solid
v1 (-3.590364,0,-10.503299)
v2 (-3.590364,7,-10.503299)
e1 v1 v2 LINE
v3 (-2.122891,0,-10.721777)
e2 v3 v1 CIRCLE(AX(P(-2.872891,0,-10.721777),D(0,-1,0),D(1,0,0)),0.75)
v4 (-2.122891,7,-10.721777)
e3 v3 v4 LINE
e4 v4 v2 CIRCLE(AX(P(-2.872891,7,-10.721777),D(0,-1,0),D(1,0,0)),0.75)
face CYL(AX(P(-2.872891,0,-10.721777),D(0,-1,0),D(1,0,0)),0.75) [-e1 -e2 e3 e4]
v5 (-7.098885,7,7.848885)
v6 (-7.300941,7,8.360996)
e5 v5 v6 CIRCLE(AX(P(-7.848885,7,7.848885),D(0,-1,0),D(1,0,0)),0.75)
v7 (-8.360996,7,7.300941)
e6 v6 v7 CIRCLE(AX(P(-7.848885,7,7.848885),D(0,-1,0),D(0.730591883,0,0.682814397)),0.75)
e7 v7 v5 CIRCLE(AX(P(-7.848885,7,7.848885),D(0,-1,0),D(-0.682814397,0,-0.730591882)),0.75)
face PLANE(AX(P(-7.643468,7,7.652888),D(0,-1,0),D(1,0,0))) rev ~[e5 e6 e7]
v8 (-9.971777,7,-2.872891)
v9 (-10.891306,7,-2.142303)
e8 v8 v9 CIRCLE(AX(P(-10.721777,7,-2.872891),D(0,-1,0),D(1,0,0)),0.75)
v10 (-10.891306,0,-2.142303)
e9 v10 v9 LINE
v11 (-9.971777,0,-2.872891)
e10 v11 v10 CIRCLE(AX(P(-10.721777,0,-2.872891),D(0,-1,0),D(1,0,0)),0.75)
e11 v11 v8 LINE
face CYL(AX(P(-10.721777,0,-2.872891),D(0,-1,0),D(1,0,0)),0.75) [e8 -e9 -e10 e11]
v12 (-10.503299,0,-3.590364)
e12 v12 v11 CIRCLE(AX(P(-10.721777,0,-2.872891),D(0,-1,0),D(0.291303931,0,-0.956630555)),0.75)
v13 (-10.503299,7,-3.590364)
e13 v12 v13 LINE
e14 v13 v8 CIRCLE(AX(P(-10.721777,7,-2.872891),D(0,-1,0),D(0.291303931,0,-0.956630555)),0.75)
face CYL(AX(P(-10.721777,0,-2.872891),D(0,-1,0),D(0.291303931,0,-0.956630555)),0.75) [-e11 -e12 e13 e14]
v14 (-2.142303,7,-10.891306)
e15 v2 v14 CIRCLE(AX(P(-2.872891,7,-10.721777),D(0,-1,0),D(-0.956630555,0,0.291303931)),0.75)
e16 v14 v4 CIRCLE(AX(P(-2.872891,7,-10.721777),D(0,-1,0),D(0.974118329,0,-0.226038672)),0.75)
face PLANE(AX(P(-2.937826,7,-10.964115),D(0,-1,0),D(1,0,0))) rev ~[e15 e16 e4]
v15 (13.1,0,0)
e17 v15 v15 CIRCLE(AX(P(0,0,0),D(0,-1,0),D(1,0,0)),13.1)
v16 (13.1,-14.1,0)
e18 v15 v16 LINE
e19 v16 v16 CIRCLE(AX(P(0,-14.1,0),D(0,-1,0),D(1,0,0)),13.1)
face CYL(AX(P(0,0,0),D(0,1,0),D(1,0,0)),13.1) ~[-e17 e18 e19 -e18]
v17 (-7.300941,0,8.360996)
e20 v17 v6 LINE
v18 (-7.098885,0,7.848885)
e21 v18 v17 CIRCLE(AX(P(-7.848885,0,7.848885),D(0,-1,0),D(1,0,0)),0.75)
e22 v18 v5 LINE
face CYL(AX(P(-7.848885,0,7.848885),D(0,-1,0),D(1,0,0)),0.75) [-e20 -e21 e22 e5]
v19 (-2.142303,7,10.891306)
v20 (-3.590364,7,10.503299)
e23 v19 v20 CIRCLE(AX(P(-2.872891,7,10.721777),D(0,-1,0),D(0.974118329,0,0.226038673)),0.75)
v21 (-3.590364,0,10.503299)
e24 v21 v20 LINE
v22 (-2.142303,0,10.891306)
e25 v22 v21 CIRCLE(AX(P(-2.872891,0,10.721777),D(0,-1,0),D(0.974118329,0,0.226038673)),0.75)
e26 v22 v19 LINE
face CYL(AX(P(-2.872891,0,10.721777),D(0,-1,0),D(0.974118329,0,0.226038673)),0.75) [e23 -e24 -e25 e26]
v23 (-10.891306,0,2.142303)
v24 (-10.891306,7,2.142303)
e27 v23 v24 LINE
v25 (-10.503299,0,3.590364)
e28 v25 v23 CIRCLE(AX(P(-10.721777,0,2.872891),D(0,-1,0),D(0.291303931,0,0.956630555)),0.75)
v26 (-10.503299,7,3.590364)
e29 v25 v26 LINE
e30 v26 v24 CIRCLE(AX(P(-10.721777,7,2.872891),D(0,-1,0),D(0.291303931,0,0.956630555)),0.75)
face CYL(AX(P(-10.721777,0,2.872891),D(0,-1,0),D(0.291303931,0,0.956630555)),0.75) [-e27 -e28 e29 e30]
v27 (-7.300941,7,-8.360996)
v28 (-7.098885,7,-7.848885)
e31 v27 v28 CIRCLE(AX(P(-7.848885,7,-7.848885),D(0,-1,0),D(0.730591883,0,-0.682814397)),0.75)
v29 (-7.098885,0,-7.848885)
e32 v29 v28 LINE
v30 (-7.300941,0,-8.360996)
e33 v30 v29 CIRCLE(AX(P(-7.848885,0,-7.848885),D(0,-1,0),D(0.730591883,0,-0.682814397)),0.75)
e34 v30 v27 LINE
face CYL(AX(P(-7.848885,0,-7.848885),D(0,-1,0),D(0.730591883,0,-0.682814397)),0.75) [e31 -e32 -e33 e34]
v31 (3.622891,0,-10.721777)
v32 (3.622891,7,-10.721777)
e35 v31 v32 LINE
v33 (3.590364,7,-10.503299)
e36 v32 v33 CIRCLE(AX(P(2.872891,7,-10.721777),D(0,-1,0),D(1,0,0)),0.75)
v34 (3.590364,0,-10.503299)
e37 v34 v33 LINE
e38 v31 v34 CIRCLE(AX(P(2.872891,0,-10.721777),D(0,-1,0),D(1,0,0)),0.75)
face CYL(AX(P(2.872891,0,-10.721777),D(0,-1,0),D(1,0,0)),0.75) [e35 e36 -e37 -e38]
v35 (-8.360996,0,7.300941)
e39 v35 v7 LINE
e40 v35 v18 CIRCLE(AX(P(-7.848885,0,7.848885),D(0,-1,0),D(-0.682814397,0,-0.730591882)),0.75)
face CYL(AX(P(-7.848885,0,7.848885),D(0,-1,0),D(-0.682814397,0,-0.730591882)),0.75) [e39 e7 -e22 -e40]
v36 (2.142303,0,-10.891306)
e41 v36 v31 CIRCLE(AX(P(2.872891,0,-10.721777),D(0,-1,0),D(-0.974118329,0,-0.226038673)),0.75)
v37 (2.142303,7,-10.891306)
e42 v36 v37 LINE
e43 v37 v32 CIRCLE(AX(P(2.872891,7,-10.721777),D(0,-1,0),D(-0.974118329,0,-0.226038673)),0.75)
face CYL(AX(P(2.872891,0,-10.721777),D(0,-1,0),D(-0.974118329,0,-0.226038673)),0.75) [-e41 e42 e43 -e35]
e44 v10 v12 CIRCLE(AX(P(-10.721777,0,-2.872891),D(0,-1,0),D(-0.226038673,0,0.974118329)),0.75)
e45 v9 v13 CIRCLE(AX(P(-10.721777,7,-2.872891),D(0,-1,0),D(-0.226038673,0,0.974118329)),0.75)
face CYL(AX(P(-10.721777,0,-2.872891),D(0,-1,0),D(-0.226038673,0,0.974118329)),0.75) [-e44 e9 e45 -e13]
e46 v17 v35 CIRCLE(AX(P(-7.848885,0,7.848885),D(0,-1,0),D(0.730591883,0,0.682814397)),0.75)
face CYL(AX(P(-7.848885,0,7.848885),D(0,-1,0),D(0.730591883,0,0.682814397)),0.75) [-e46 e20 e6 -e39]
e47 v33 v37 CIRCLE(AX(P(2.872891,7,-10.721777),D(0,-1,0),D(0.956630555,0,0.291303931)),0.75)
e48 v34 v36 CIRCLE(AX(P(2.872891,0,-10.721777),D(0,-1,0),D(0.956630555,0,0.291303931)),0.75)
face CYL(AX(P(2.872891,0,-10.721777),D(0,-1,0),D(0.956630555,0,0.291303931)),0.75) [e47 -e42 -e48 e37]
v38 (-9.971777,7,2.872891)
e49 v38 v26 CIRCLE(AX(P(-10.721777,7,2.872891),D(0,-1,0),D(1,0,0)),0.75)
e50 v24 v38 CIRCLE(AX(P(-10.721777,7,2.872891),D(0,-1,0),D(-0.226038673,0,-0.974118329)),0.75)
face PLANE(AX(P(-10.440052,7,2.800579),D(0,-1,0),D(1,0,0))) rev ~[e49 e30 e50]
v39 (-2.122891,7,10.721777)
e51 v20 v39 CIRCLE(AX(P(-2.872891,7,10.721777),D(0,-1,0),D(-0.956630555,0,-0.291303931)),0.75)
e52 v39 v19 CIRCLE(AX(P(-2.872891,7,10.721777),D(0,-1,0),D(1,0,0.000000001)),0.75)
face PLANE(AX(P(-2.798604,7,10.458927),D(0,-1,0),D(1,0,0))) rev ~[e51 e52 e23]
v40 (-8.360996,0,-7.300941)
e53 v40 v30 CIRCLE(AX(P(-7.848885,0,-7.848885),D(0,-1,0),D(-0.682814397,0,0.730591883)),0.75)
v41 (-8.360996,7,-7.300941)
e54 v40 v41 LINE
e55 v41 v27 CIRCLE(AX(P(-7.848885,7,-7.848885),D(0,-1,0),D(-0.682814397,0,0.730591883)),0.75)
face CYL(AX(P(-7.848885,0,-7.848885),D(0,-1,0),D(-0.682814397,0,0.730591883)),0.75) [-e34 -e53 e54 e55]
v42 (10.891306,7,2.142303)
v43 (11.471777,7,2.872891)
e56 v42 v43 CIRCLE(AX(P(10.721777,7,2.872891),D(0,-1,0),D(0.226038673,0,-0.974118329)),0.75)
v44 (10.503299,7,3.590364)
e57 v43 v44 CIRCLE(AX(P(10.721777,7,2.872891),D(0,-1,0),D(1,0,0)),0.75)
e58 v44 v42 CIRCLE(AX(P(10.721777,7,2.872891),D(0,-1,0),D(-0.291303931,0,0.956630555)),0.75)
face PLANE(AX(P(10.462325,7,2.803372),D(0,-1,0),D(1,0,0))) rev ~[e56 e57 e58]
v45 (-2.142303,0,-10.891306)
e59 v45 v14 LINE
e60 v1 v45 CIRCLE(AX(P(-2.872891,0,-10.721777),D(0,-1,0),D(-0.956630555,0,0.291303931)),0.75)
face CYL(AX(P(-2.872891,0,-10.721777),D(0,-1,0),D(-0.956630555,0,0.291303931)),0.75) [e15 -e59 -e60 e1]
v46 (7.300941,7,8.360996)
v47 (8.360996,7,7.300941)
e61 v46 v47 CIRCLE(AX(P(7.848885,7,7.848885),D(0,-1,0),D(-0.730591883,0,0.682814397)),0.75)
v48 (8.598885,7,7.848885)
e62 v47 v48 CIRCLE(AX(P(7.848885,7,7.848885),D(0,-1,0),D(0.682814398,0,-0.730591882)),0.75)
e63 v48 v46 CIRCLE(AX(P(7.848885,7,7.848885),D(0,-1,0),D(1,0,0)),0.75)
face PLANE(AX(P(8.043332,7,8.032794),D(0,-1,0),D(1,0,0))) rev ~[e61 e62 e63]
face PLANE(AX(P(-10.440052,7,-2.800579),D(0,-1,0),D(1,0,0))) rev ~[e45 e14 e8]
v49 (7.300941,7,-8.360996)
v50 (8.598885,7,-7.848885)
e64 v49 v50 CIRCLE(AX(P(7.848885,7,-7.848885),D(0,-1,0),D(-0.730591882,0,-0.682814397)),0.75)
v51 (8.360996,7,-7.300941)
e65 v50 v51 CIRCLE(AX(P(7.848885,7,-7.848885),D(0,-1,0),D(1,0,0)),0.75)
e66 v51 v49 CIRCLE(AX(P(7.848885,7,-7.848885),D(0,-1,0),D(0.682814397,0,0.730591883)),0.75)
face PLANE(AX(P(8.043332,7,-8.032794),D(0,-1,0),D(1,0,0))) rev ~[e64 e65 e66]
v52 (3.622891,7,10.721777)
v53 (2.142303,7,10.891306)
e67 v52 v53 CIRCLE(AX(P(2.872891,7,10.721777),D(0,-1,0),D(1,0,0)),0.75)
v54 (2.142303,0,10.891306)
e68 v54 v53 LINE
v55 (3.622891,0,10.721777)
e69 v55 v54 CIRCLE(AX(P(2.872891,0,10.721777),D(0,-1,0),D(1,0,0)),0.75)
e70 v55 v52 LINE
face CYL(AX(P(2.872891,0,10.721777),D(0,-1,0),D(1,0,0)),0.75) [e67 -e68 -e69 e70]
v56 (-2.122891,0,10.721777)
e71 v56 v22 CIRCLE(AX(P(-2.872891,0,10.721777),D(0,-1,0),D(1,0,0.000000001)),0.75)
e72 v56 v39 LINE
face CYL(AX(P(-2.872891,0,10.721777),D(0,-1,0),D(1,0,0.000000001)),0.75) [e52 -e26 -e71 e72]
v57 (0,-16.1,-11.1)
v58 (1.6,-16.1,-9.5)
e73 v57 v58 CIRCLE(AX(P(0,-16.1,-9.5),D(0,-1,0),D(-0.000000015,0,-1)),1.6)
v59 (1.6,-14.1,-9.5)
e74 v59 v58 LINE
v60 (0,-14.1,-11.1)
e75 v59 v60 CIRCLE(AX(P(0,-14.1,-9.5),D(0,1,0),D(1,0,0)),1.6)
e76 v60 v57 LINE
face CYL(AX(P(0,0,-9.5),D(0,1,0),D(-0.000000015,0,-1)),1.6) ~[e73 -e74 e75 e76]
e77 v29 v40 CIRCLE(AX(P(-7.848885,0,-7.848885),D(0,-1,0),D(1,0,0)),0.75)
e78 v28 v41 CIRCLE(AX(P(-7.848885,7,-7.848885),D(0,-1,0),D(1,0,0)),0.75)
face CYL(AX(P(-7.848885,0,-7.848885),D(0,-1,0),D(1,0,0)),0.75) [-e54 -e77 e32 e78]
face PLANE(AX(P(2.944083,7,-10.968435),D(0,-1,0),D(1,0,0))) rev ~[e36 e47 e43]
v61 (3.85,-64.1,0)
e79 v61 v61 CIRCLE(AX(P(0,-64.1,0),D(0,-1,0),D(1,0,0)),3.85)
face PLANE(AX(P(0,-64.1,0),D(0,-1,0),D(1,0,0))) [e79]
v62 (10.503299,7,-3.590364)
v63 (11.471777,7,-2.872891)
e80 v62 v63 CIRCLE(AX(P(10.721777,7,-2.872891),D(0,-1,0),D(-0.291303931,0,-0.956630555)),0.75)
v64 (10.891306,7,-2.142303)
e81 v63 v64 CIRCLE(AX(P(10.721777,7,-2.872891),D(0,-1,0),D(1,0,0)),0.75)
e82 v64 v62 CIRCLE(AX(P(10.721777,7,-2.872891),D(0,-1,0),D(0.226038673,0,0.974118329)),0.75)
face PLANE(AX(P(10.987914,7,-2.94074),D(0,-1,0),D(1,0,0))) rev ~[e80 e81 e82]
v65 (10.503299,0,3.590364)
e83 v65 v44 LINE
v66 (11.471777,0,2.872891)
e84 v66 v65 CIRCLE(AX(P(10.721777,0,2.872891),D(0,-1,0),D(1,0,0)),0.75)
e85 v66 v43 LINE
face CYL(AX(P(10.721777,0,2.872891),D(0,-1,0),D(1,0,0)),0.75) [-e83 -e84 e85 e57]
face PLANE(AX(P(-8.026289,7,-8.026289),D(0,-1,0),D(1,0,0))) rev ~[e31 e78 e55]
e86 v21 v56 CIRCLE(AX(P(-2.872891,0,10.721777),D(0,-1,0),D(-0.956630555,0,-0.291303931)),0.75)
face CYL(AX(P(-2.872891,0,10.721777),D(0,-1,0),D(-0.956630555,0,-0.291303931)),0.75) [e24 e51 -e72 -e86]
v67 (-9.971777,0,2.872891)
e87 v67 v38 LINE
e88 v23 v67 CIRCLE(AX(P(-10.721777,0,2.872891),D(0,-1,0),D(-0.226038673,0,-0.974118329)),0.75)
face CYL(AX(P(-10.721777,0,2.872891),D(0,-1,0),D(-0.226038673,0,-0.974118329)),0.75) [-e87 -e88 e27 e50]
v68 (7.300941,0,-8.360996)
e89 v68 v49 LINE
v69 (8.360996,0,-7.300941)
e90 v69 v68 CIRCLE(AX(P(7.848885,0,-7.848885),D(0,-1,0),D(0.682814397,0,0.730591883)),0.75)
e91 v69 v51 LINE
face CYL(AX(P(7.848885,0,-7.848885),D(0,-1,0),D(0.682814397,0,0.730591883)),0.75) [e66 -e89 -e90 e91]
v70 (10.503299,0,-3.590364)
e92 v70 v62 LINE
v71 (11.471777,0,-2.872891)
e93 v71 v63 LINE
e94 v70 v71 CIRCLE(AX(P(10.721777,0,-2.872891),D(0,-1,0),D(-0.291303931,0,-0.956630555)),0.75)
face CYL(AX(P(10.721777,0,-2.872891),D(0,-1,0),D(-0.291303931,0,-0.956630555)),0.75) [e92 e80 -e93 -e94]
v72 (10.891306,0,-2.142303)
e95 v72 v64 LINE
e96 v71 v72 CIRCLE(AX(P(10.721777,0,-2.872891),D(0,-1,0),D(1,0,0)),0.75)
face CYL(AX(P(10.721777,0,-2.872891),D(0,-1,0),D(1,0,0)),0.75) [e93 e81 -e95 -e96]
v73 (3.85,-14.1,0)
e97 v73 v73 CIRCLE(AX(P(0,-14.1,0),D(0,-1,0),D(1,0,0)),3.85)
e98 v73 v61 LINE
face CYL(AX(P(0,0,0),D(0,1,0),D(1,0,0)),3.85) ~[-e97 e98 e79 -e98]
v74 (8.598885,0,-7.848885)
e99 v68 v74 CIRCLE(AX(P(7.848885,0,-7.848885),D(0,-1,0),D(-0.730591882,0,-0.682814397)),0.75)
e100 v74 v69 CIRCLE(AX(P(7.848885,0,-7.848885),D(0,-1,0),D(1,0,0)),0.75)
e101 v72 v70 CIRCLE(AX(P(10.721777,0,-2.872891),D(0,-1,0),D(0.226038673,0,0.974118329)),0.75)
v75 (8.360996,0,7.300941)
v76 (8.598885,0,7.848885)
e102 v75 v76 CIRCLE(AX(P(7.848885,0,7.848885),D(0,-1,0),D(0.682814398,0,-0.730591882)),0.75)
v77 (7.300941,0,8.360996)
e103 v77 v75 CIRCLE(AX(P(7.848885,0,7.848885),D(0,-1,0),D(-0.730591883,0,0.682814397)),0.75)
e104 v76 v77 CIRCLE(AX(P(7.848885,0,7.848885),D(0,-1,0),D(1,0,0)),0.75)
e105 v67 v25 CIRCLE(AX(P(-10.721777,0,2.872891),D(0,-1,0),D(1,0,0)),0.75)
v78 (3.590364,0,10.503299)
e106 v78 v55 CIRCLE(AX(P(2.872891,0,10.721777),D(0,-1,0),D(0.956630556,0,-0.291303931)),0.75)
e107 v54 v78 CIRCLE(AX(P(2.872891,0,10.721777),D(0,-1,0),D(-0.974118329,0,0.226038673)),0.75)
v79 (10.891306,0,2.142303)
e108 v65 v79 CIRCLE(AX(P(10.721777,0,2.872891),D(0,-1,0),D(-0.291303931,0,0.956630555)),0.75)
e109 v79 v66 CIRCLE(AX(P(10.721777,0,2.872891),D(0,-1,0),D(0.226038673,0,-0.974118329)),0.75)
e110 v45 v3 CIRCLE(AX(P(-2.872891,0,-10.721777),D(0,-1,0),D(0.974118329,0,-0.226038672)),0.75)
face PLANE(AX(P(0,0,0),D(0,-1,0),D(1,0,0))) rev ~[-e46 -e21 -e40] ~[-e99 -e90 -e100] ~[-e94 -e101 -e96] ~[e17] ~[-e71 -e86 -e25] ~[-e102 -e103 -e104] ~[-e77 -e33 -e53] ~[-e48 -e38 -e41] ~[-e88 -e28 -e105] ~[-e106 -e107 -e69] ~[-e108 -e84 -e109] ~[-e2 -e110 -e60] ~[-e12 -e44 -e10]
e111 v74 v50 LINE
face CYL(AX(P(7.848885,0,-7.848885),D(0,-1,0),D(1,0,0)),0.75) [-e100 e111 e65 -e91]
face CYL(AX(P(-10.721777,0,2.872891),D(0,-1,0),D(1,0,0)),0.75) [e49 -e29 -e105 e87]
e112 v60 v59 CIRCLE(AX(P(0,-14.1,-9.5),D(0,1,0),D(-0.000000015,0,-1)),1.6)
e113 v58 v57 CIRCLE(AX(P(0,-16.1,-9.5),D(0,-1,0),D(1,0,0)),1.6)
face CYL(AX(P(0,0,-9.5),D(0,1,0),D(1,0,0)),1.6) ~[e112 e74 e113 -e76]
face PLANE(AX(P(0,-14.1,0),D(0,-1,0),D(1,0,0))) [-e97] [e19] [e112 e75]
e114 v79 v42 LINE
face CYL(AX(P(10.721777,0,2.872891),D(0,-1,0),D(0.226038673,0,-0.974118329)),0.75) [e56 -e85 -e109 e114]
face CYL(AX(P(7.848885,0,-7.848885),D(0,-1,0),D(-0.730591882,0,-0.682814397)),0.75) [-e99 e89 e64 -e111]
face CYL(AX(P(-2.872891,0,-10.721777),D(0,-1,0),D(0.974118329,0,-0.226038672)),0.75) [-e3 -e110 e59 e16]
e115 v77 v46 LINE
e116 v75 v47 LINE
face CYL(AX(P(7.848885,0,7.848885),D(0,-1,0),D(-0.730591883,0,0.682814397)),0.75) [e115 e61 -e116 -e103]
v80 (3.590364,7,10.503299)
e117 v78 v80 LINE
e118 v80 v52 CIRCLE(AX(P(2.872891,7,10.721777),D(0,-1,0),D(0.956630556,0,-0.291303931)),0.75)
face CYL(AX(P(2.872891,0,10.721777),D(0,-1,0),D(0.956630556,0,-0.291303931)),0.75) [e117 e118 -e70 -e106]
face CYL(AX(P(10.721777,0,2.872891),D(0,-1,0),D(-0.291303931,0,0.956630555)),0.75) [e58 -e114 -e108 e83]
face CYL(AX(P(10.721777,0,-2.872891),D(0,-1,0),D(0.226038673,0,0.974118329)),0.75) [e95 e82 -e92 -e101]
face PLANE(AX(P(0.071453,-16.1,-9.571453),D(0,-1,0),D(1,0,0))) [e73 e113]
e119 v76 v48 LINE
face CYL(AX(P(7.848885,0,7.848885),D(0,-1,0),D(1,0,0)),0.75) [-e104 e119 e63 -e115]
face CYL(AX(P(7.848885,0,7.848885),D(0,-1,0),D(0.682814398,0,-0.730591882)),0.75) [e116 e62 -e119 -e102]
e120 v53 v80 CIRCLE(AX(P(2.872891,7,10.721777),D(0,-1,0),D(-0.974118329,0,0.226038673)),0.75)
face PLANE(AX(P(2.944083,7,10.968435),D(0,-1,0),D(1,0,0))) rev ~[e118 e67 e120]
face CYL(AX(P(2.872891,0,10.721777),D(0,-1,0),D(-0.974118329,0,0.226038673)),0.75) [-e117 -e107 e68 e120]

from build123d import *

# Parameters (mm, degrees)
F0_R     = 13.1
F0_R_2   = 3.85
F1_DEPTH = 14.1
F2_DEPTH = 16.1
F3_DEPTH = 64.1
F4_DEPTH = 7


with BuildPart() as f1:
    # F0 (on Front) → F1 (new body)
    with BuildSketch(Plane.XZ):
        Circle(F0_R)
        with BuildLine():
            ThreePointArc((2.1423026541, 10.8913056765), (2.9582097459, 11.4669080562), (3.6228914006, 10.7217766718))
            ThreePointArc((3.6228914006, 10.7217766718), (3.6147150614, 10.6113336716), (3.5903643172, 10.5032987232))
            ThreePointArc((3.5903643172, 10.5032987232), (5.55, 9.612881982), (7.3009413593, 8.3609960692))
            ThreePointArc((7.3009413593, 8.3609960692), (8.1241506577, 8.5465449066), (8.5988852712, 7.8488852712))
            ThreePointArc((8.5988852712, 7.8488852712), (8.5368471518, 7.5502074334), (8.3609960692, 7.3009413593))
            ThreePointArc((8.3609960692, 7.3009413593), (9.612881982, 5.55), (10.5032987232, 3.5903643172))
            ThreePointArc((10.5032987232, 3.5903643172), (11.1682302184, 3.475534936), (11.4717766718, 2.8728914006))
            ThreePointArc((11.4717766718, 2.8728914006), (11.3089933071, 2.4063331264), (10.8913056765, 2.1423026541))
            ThreePointArc((10.8913056765, 2.1423026541), (11.047703223, 1.0762218617), (11.1, 0))
            ThreePointArc((11.1, 0), (11.047703223, -1.0762218617), (10.8913056765, -2.1423026541))
            ThreePointArc((10.8913056765, -2.1423026541), (11.3089933071, -2.4063331264), (11.4717766718, -2.8728914006))
            ThreePointArc((11.4717766718, -2.8728914006), (11.1682302184, -3.475534936), (10.5032987232, -3.5903643172))
            ThreePointArc((10.5032987232, -3.5903643172), (9.612881982, -5.55), (8.3609960692, -7.3009413593))
            ThreePointArc((8.3609960692, -7.3009413593), (8.5368471518, -7.5502074334), (8.5988852712, -7.8488852712))
            ThreePointArc((8.5988852712, -7.8488852712), (8.1241506577, -8.5465449066), (7.3009413593, -8.3609960692))
            ThreePointArc((7.3009413593, -8.3609960692), (5.55, -9.612881982), (3.5903643172, -10.5032987232))
            ThreePointArc((3.5903643172, -10.5032987232), (3.6147150614, -10.6113336716), (3.6228914006, -10.7217766718))
            ThreePointArc((3.6228914006, -10.7217766718), (2.9582097459, -11.4669080562), (2.1423026541, -10.8913056765))
            ThreePointArc((2.1423026541, -10.8913056765), (1.0762218494, -11.0477032242), (-2.47e-08, -11.1))
            ThreePointArc((-2.47e-08, -11.1), (-1.076221874, -11.0477032218), (-2.1423026541, -10.8913056765))
            ThreePointArc((-2.1423026541, -10.8913056765), (-3.0670056845, -11.4462210415), (-3.5903643172, -10.5032987232))
            ThreePointArc((-3.5903643172, -10.5032987232), (-5.55, -9.612881982), (-7.3009413593, -8.3609960692))
            ThreePointArc((-7.3009413593, -8.3609960692), (-8.3792153571, -8.3792153571), (-8.3609960692, -7.3009413593))
            ThreePointArc((-8.3609960692, -7.3009413593), (-9.612881982, -5.55), (-10.5032987232, -3.5903643172))
            ThreePointArc((-10.5032987232, -3.5903643172), (-11.4462210415, -3.0670056845), (-10.8913056765, -2.1423026541))
            ThreePointArc((-10.8913056765, -2.1423026541), (-11.1, 0), (-10.8913056765, 2.1423026541))
            ThreePointArc((-10.8913056765, 2.1423026541), (-11.4462210415, 3.0670056845), (-10.5032987232, 3.5903643172))
            ThreePointArc((-10.5032987232, 3.5903643172), (-9.612881982, 5.55), (-8.3609960692, 7.3009413593))
            ThreePointArc((-8.3609960692, 7.3009413593), (-8.3792153571, 8.3792153571), (-7.3009413593, 8.3609960692))
            ThreePointArc((-7.3009413593, 8.3609960692), (-5.55, 9.612881982), (-3.5903643172, 10.5032987232))
            ThreePointArc((-3.5903643172, 10.5032987232), (-3.0670056845, 11.4462210415), (-2.1423026541, 10.8913056765))
            ThreePointArc((-2.1423026541, 10.8913056765), (0, 11.1), (2.1423026541, 10.8913056765))
        make_face(mode=Mode.SUBTRACT)
        with BuildLine():
            ThreePointArc((3.5903643172, 10.5032987232), (2.8728914006, 10.7217766718), (2.1423026541, 10.8913056765))
            ThreePointArc((2.1423026541, 10.8913056765), (2.6787771168, 9.9973323021), (3.5903643172, 10.5032987232))
        make_face()
        with BuildLine():
            ThreePointArc((-3.5903643172, 10.5032987232), (-2.8728914006, 10.7217766718), (-2.1423026541, 10.8913056765))
            ThreePointArc((-2.1423026541, 10.8913056765), (-3.0670056845, 11.4462210415), (-3.5903643172, 10.5032987232))
        make_face()
        with BuildLine():
            ThreePointArc((8.3609960692, 7.3009413593), (7.8488852712, 7.8488852712), (7.3009413593, 8.3609960692))
            ThreePointArc((7.3009413593, 8.3609960692), (7.3185551853, 7.3185551853), (8.3609960692, 7.3009413593))
        make_face()
        with BuildLine():
            ThreePointArc((11.4717766718, 2.8728914006), (11.1682302184, 3.475534936), (10.5032987232, 3.5903643172))
            ThreePointArc((10.5032987232, 3.5903643172), (10.7217766718, 2.8728914006), (10.8913056765, 2.1423026541))
            ThreePointArc((10.8913056765, 2.1423026541), (11.3089933071, 2.4063331264), (11.4717766718, 2.8728914006))
        make_face()
        with BuildLine():
            ThreePointArc((10.5032987232, -3.5903643172), (10.7217766718, -2.8728914006), (10.8913056765, -2.1423026541))
            ThreePointArc((10.8913056765, -2.1423026541), (9.9973323021, -2.6787771168), (10.5032987232, -3.5903643172))
        make_face()
        with BuildLine():
            ThreePointArc((7.3009413593, -8.3609960692), (7.8488852712, -7.8488852712), (8.3609960692, -7.3009413593))
            ThreePointArc((8.3609960692, -7.3009413593), (7.3185551853, -7.3185551853), (7.3009413593, -8.3609960692))
        make_face()
        with BuildLine():
            ThreePointArc((2.1423026541, -10.8913056765), (2.8728914006, -10.7217766718), (3.5903643172, -10.5032987232))
            ThreePointArc((3.5903643172, -10.5032987232), (2.6787771168, -9.9973323021), (2.1423026541, -10.8913056765))
        make_face()
        with BuildLine():
            ThreePointArc((-8.3609960692, 7.3009413593), (-7.8488852712, 7.8488852712), (-7.3009413593, 8.3609960692))
            ThreePointArc((-7.3009413593, 8.3609960692), (-8.3792153571, 8.3792153571), (-8.3609960692, 7.3009413593))
        make_face()
        with BuildLine():
            ThreePointArc((-10.8913056765, 2.1423026541), (-10.7217766718, 2.8728914006), (-10.5032987232, 3.5903643172))
            ThreePointArc((-10.5032987232, 3.5903643172), (-11.4462210415, 3.0670056845), (-10.8913056765, 2.1423026541))
        make_face()
        with BuildLine():
            ThreePointArc((-10.5032987232, -3.5903643172), (-10.7217766718, -2.8728914006), (-10.8913056765, -2.1423026541))
            ThreePointArc((-10.8913056765, -2.1423026541), (-11.4462210415, -3.0670056845), (-10.5032987232, -3.5903643172))
        make_face()
        with BuildLine():
            ThreePointArc((-7.3009413593, -8.3609960692), (-7.8488852712, -7.8488852712), (-8.3609960692, -7.3009413593))
            ThreePointArc((-8.3609960692, -7.3009413593), (-8.3792153571, -8.3792153571), (-7.3009413593, -8.3609960692))
        make_face()
        with BuildLine():
            ThreePointArc((-2.1423026541, -10.8913056765), (-2.8728914006, -10.7217766718), (-3.5903643172, -10.5032987232))
            ThreePointArc((-3.5903643172, -10.5032987232), (-3.0670056845, -11.4462210415), (-2.1423026541, -10.8913056765))
        make_face()
        with BuildLine():
            ThreePointArc((3.5903643172, 10.5032987232), (2.6787771168, 9.9973323021), (2.1423026541, 10.8913056765))
            ThreePointArc((2.1423026541, 10.8913056765), (0, 11.1), (-2.1423026541, 10.8913056765))
            ThreePointArc((-2.1423026541, 10.8913056765), (-2.1277600163, 10.8070950171), (-2.1228914006, 10.7217766718))
            ThreePointArc((-2.1228914006, 10.7217766718), (-2.7624484004, 9.979953011), (-3.5903643172, 10.5032987232))
            ThreePointArc((-3.5903643172, 10.5032987232), (-5.55, 9.612881982), (-7.3009413593, 8.3609960692))
            ThreePointArc((-7.3009413593, 8.3609960692), (-7.1512256357, 8.1241506577), (-7.0988852712, 7.8488852712))
            ThreePointArc((-7.0988852712, 7.8488852712), (-7.5502074334, 7.1609233905), (-8.3609960692, 7.3009413593))
            ThreePointArc((-8.3609960692, 7.3009413593), (-9.612881982, 5.55), (-10.5032987232, 3.5903643172))
            ThreePointArc((-10.5032987232, 3.5903643172), (-10.1191331364, 3.3193449473), (-9.9717766718, 2.8728914006))
            ThreePointArc((-9.9717766718, 2.8728914006), (-10.2552183976, 2.2856747654), (-10.8913056765, 2.1423026541))
            ThreePointArc((-10.8913056765, 2.1423026541), (-11.1, 0), (-10.8913056765, -2.1423026541))
            ThreePointArc((-10.8913056765, -2.1423026541), (-10.2552183976, -2.2856747654), (-9.9717766718, -2.8728914006))
            ThreePointArc((-9.9717766718, -2.8728914006), (-10.1191331364, -3.3193449473), (-10.5032987232, -3.5903643172))
            ThreePointArc((-10.5032987232, -3.5903643172), (-9.612881982, -5.55), (-8.3609960692, -7.3009413593))
            ThreePointArc((-8.3609960692, -7.3009413593), (-7.5502074334, -7.1609233905), (-7.0988852712, -7.8488852712))
            ThreePointArc((-7.0988852712, -7.8488852712), (-7.1512256357, -8.1241506577), (-7.3009413593, -8.3609960692))
            ThreePointArc((-7.3009413593, -8.3609960692), (-5.55, -9.612881982), (-3.5903643172, -10.5032987232))
            ThreePointArc((-3.5903643172, -10.5032987232), (-2.7624484004, -9.979953011), (-2.1228914006, -10.7217766718))
            ThreePointArc((-2.1228914006, -10.7217766718), (-2.1277600163, -10.8070950171), (-2.1423026541, -10.8913056765))
            ThreePointArc((-2.1423026541, -10.8913056765), (-1.076221874, -11.0477032218), (-2.47e-08, -11.1))
            ThreePointArc((-2.47e-08, -11.1), (1.0762218494, -11.0477032242), (2.1423026541, -10.8913056765))
            ThreePointArc((2.1423026541, -10.8913056765), (2.6787771168, -9.9973323021), (3.5903643172, -10.5032987232))
            ThreePointArc((3.5903643172, -10.5032987232), (5.55, -9.612881982), (7.3009413593, -8.3609960692))
            ThreePointArc((7.3009413593, -8.3609960692), (7.3185551853, -7.3185551853), (8.3609960692, -7.3009413593))
            ThreePointArc((8.3609960692, -7.3009413593), (9.612881982, -5.55), (10.5032987232, -3.5903643172))
            ThreePointArc((10.5032987232, -3.5903643172), (9.9973323021, -2.6787771168), (10.8913056765, -2.1423026541))
            ThreePointArc((10.8913056765, -2.1423026541), (11.047703223, -1.0762218617), (11.1, 0))
            ThreePointArc((11.1, 0), (11.047703223, 1.0762218617), (10.8913056765, 2.1423026541))
            ThreePointArc((10.8913056765, 2.1423026541), (9.9973323021, 2.6787771168), (10.5032987232, 3.5903643172))
            ThreePointArc((10.5032987232, 3.5903643172), (9.612881982, 5.55), (8.3609960692, 7.3009413593))
            ThreePointArc((8.3609960692, 7.3009413593), (7.3185551853, 7.3185551853), (7.3009413593, 8.3609960692))
            ThreePointArc((7.3009413593, 8.3609960692), (5.55, 9.612881982), (3.5903643172, 10.5032987232))
        make_face()
        with BuildLine():
            ThreePointArc((1.6, -9.5), (1.1313708412, -10.6313708586), (-2.47e-08, -11.1))
            ThreePointArc((-2.47e-08, -11.1), (-1.1313708412, -8.3686291414), (1.6, -9.5))
        make_face(mode=Mode.SUBTRACT)
        Circle(F0_R_2, mode=Mode.SUBTRACT)
        with BuildLine():
            ThreePointArc((-7.0988852712, 7.8488852712), (-7.1512256357, 8.1241506577), (-7.3009413593, 8.3609960692))
            ThreePointArc((-7.3009413593, 8.3609960692), (-7.8488852712, 7.8488852712), (-8.3609960692, 7.3009413593))
            ThreePointArc((-8.3609960692, 7.3009413593), (-7.5502074334, 7.1609233905), (-7.0988852712, 7.8488852712))
        make_face()
        with BuildLine():
            ThreePointArc((-2.1228914006, 10.7217766718), (-2.1277600163, 10.8070950171), (-2.1423026541, 10.8913056765))
            ThreePointArc((-2.1423026541, 10.8913056765), (-2.8728914006, 10.7217766718), (-3.5903643172, 10.5032987232))
            ThreePointArc((-3.5903643172, 10.5032987232), (-2.7624484004, 9.979953011), (-2.1228914006, 10.7217766718))
        make_face()
        with BuildLine():
            ThreePointArc((3.5903643172, 10.5032987232), (3.6147150614, 10.6113336716), (3.6228914006, 10.7217766718))
            ThreePointArc((3.6228914006, 10.7217766718), (2.9582097459, 11.4669080562), (2.1423026541, 10.8913056765))
            ThreePointArc((2.1423026541, 10.8913056765), (2.8728914006, 10.7217766718), (3.5903643172, 10.5032987232))
        make_face()
        with BuildLine():
            ThreePointArc((8.5988852712, 7.8488852712), (8.1241506577, 8.5465449066), (7.3009413593, 8.3609960692))
            ThreePointArc((7.3009413593, 8.3609960692), (7.8488852712, 7.8488852712), (8.3609960692, 7.3009413593))
            ThreePointArc((8.3609960692, 7.3009413593), (8.5368471518, 7.5502074334), (8.5988852712, 7.8488852712))
        make_face()
        with BuildLine():
            ThreePointArc((10.8913056765, 2.1423026541), (10.7217766718, 2.8728914006), (10.5032987232, 3.5903643172))
            ThreePointArc((10.5032987232, 3.5903643172), (9.9973323021, 2.6787771168), (10.8913056765, 2.1423026541))
        make_face()
        with BuildLine():
            ThreePointArc((11.4717766718, -2.8728914006), (11.3089933071, -2.4063331264), (10.8913056765, -2.1423026541))
            ThreePointArc((10.8913056765, -2.1423026541), (10.7217766718, -2.8728914006), (10.5032987232, -3.5903643172))
            ThreePointArc((10.5032987232, -3.5903643172), (11.1682302184, -3.475534936), (11.4717766718, -2.8728914006))
        make_face()
        with BuildLine():
            ThreePointArc((8.5988852712, -7.8488852712), (8.5368471518, -7.5502074334), (8.3609960692, -7.3009413593))
            ThreePointArc((8.3609960692, -7.3009413593), (7.8488852712, -7.8488852712), (7.3009413593, -8.3609960692))
            ThreePointArc((7.3009413593, -8.3609960692), (8.1241506577, -8.5465449066), (8.5988852712, -7.8488852712))
        make_face()
        with BuildLine():
            ThreePointArc((3.6228914006, -10.7217766718), (3.6147150614, -10.6113336716), (3.5903643172, -10.5032987232))
            ThreePointArc((3.5903643172, -10.5032987232), (2.8728914006, -10.7217766718), (2.1423026541, -10.8913056765))
            ThreePointArc((2.1423026541, -10.8913056765), (2.9582097459, -11.4669080562), (3.6228914006, -10.7217766718))
        make_face()
        with BuildLine():
            ThreePointArc((-2.1228914006, -10.7217766718), (-2.7624484004, -9.979953011), (-3.5903643172, -10.5032987232))
            ThreePointArc((-3.5903643172, -10.5032987232), (-2.8728914006, -10.7217766718), (-2.1423026541, -10.8913056765))
            ThreePointArc((-2.1423026541, -10.8913056765), (-2.1277600163, -10.8070950171), (-2.1228914006, -10.7217766718))
        make_face()
        with BuildLine():
            ThreePointArc((-7.0988852712, -7.8488852712), (-7.5502074334, -7.1609233905), (-8.3609960692, -7.3009413593))
            ThreePointArc((-8.3609960692, -7.3009413593), (-7.8488852712, -7.8488852712), (-7.3009413593, -8.3609960692))
            ThreePointArc((-7.3009413593, -8.3609960692), (-7.1512256357, -8.1241506577), (-7.0988852712, -7.8488852712))
        make_face()
        with BuildLine():
            ThreePointArc((-9.9717766718, -2.8728914006), (-10.2552183976, -2.2856747654), (-10.8913056765, -2.1423026541))
            ThreePointArc((-10.8913056765, -2.1423026541), (-10.7217766718, -2.8728914006), (-10.5032987232, -3.5903643172))
            ThreePointArc((-10.5032987232, -3.5903643172), (-10.1191331364, -3.3193449473), (-9.9717766718, -2.8728914006))
        make_face()
        with BuildLine():
            ThreePointArc((-9.9717766718, 2.8728914006), (-10.1191331364, 3.3193449473), (-10.5032987232, 3.5903643172))
            ThreePointArc((-10.5032987232, 3.5903643172), (-10.7217766718, 2.8728914006), (-10.8913056765, 2.1423026541))
            ThreePointArc((-10.8913056765, 2.1423026541), (-10.2552183976, 2.2856747654), (-9.9717766718, 2.8728914006))
        make_face()
    extrude(amount=F1_DEPTH)

    # F0 (on Front) → F2 (join, through all)
    with BuildSketch(Plane.XZ):
        with BuildLine():
            ThreePointArc((1.6, -9.5), (-1.1313708412, -8.3686291414), (-2.47e-08, -11.1))
            ThreePointArc((-2.47e-08, -11.1), (1.1313708412, -10.6313708586), (1.6, -9.5))
        make_face()
    extrude(amount=F2_DEPTH)

    # F0 (on Front) → F3 (join, through all)
    with BuildSketch(Plane.XZ):
        Circle(F0_R_2)
    extrude(amount=F3_DEPTH)

    # F0 (on Front) → F4 (join)
    with BuildSketch(Plane.XZ):
        with BuildLine():
            ThreePointArc((3.6228914006, -10.7217766718), (3.6147150614, -10.6113336716), (3.5903643172, -10.5032987232))
            ThreePointArc((3.5903643172, -10.5032987232), (2.8728914006, -10.7217766718), (2.1423026541, -10.8913056765))
            ThreePointArc((2.1423026541, -10.8913056765), (2.9582097459, -11.4669080562), (3.6228914006, -10.7217766718))
        make_face()
        with BuildLine():
            ThreePointArc((2.1423026541, -10.8913056765), (2.8728914006, -10.7217766718), (3.5903643172, -10.5032987232))
            ThreePointArc((3.5903643172, -10.5032987232), (2.6787771168, -9.9973323021), (2.1423026541, -10.8913056765))
        make_face()
        with BuildLine():
            ThreePointArc((8.5988852712, -7.8488852712), (8.5368471518, -7.5502074334), (8.3609960692, -7.3009413593))
            ThreePointArc((8.3609960692, -7.3009413593), (7.8488852712, -7.8488852712), (7.3009413593, -8.3609960692))
            ThreePointArc((7.3009413593, -8.3609960692), (8.1241506577, -8.5465449066), (8.5988852712, -7.8488852712))
        make_face()
        with BuildLine():
            ThreePointArc((7.3009413593, -8.3609960692), (7.8488852712, -7.8488852712), (8.3609960692, -7.3009413593))
            ThreePointArc((8.3609960692, -7.3009413593), (7.3185551853, -7.3185551853), (7.3009413593, -8.3609960692))
        make_face()
        with BuildLine():
            ThreePointArc((11.4717766718, -2.8728914006), (11.3089933071, -2.4063331264), (10.8913056765, -2.1423026541))
            ThreePointArc((10.8913056765, -2.1423026541), (10.7217766718, -2.8728914006), (10.5032987232, -3.5903643172))
            ThreePointArc((10.5032987232, -3.5903643172), (11.1682302184, -3.475534936), (11.4717766718, -2.8728914006))
        make_face()
        with BuildLine():
            ThreePointArc((10.5032987232, -3.5903643172), (10.7217766718, -2.8728914006), (10.8913056765, -2.1423026541))
            ThreePointArc((10.8913056765, -2.1423026541), (9.9973323021, -2.6787771168), (10.5032987232, -3.5903643172))
        make_face()
        with BuildLine():
            ThreePointArc((-2.1423026541, -10.8913056765), (-2.8728914006, -10.7217766718), (-3.5903643172, -10.5032987232))
            ThreePointArc((-3.5903643172, -10.5032987232), (-3.0670056845, -11.4462210415), (-2.1423026541, -10.8913056765))
        make_face()
        with BuildLine():
            ThreePointArc((-2.1228914006, -10.7217766718), (-2.7624484004, -9.979953011), (-3.5903643172, -10.5032987232))
            ThreePointArc((-3.5903643172, -10.5032987232), (-2.8728914006, -10.7217766718), (-2.1423026541, -10.8913056765))
            ThreePointArc((-2.1423026541, -10.8913056765), (-2.1277600163, -10.8070950171), (-2.1228914006, -10.7217766718))
        make_face()
        with BuildLine():
            ThreePointArc((-7.3009413593, -8.3609960692), (-7.8488852712, -7.8488852712), (-8.3609960692, -7.3009413593))
            ThreePointArc((-8.3609960692, -7.3009413593), (-8.3792153571, -8.3792153571), (-7.3009413593, -8.3609960692))
        make_face()
        with BuildLine():
            ThreePointArc((-7.0988852712, -7.8488852712), (-7.5502074334, -7.1609233905), (-8.3609960692, -7.3009413593))
            ThreePointArc((-8.3609960692, -7.3009413593), (-7.8488852712, -7.8488852712), (-7.3009413593, -8.3609960692))
            ThreePointArc((-7.3009413593, -8.3609960692), (-7.1512256357, -8.1241506577), (-7.0988852712, -7.8488852712))
        make_face()
        with BuildLine():
            ThreePointArc((-9.9717766718, -2.8728914006), (-10.2552183976, -2.2856747654), (-10.8913056765, -2.1423026541))
            ThreePointArc((-10.8913056765, -2.1423026541), (-10.7217766718, -2.8728914006), (-10.5032987232, -3.5903643172))
            ThreePointArc((-10.5032987232, -3.5903643172), (-10.1191331364, -3.3193449473), (-9.9717766718, -2.8728914006))
        make_face()
        with BuildLine():
            ThreePointArc((-10.5032987232, -3.5903643172), (-10.7217766718, -2.8728914006), (-10.8913056765, -2.1423026541))
            ThreePointArc((-10.8913056765, -2.1423026541), (-11.4462210415, -3.0670056845), (-10.5032987232, -3.5903643172))
        make_face()
        with BuildLine():
            ThreePointArc((-9.9717766718, 2.8728914006), (-10.1191331364, 3.3193449473), (-10.5032987232, 3.5903643172))
            ThreePointArc((-10.5032987232, 3.5903643172), (-10.7217766718, 2.8728914006), (-10.8913056765, 2.1423026541))
            ThreePointArc((-10.8913056765, 2.1423026541), (-10.2552183976, 2.2856747654), (-9.9717766718, 2.8728914006))
        make_face()
        with BuildLine():
            ThreePointArc((-10.8913056765, 2.1423026541), (-10.7217766718, 2.8728914006), (-10.5032987232, 3.5903643172))
            ThreePointArc((-10.5032987232, 3.5903643172), (-11.4462210415, 3.0670056845), (-10.8913056765, 2.1423026541))
        make_face()
        with BuildLine():
            ThreePointArc((-7.0988852712, 7.8488852712), (-7.1512256357, 8.1241506577), (-7.3009413593, 8.3609960692))
            ThreePointArc((-7.3009413593, 8.3609960692), (-7.8488852712, 7.8488852712), (-8.3609960692, 7.3009413593))
            ThreePointArc((-8.3609960692, 7.3009413593), (-7.5502074334, 7.1609233905), (-7.0988852712, 7.8488852712))
        make_face()
        with BuildLine():
            ThreePointArc((-8.3609960692, 7.3009413593), (-7.8488852712, 7.8488852712), (-7.3009413593, 8.3609960692))
            ThreePointArc((-7.3009413593, 8.3609960692), (-8.3792153571, 8.3792153571), (-8.3609960692, 7.3009413593))
        make_face()
        with BuildLine():
            ThreePointArc((3.5903643172, 10.5032987232), (3.6147150614, 10.6113336716), (3.6228914006, 10.7217766718))
            ThreePointArc((3.6228914006, 10.7217766718), (2.9582097459, 11.4669080562), (2.1423026541, 10.8913056765))
            ThreePointArc((2.1423026541, 10.8913056765), (2.8728914006, 10.7217766718), (3.5903643172, 10.5032987232))
        make_face()
        with BuildLine():
            ThreePointArc((3.5903643172, 10.5032987232), (2.8728914006, 10.7217766718), (2.1423026541, 10.8913056765))
            ThreePointArc((2.1423026541, 10.8913056765), (2.6787771168, 9.9973323021), (3.5903643172, 10.5032987232))
        make_face()
        with BuildLine():
            ThreePointArc((10.8913056765, 2.1423026541), (10.7217766718, 2.8728914006), (10.5032987232, 3.5903643172))
            ThreePointArc((10.5032987232, 3.5903643172), (9.9973323021, 2.6787771168), (10.8913056765, 2.1423026541))
        make_face()
        with BuildLine():
            ThreePointArc((11.4717766718, 2.8728914006), (11.1682302184, 3.475534936), (10.5032987232, 3.5903643172))
            ThreePointArc((10.5032987232, 3.5903643172), (10.7217766718, 2.8728914006), (10.8913056765, 2.1423026541))
            ThreePointArc((10.8913056765, 2.1423026541), (11.3089933071, 2.4063331264), (11.4717766718, 2.8728914006))
        make_face()
        with BuildLine():
            ThreePointArc((8.5988852712, 7.8488852712), (8.1241506577, 8.5465449066), (7.3009413593, 8.3609960692))
            ThreePointArc((7.3009413593, 8.3609960692), (7.8488852712, 7.8488852712), (8.3609960692, 7.3009413593))
            ThreePointArc((8.3609960692, 7.3009413593), (8.5368471518, 7.5502074334), (8.5988852712, 7.8488852712))
        make_face()
        with BuildLine():
            ThreePointArc((8.3609960692, 7.3009413593), (7.8488852712, 7.8488852712), (7.3009413593, 8.3609960692))
            ThreePointArc((7.3009413593, 8.3609960692), (7.3185551853, 7.3185551853), (8.3609960692, 7.3009413593))
        make_face()
        with BuildLine():
            ThreePointArc((-2.1228914006, 10.7217766718), (-2.1277600163, 10.8070950171), (-2.1423026541, 10.8913056765))
            ThreePointArc((-2.1423026541, 10.8913056765), (-2.8728914006, 10.7217766718), (-3.5903643172, 10.5032987232))
            ThreePointArc((-3.5903643172, 10.5032987232), (-2.7624484004, 9.979953011), (-2.1228914006, 10.7217766718))
        make_face()
        with BuildLine():
            ThreePointArc((-3.5903643172, 10.5032987232), (-2.8728914006, 10.7217766718), (-2.1423026541, 10.8913056765))
            ThreePointArc((-2.1423026541, 10.8913056765), (-3.0670056845, 11.4462210415), (-3.5903643172, 10.5032987232))
        make_face()
    extrude(amount=-F4_DEPTH)


solid = f1.part
